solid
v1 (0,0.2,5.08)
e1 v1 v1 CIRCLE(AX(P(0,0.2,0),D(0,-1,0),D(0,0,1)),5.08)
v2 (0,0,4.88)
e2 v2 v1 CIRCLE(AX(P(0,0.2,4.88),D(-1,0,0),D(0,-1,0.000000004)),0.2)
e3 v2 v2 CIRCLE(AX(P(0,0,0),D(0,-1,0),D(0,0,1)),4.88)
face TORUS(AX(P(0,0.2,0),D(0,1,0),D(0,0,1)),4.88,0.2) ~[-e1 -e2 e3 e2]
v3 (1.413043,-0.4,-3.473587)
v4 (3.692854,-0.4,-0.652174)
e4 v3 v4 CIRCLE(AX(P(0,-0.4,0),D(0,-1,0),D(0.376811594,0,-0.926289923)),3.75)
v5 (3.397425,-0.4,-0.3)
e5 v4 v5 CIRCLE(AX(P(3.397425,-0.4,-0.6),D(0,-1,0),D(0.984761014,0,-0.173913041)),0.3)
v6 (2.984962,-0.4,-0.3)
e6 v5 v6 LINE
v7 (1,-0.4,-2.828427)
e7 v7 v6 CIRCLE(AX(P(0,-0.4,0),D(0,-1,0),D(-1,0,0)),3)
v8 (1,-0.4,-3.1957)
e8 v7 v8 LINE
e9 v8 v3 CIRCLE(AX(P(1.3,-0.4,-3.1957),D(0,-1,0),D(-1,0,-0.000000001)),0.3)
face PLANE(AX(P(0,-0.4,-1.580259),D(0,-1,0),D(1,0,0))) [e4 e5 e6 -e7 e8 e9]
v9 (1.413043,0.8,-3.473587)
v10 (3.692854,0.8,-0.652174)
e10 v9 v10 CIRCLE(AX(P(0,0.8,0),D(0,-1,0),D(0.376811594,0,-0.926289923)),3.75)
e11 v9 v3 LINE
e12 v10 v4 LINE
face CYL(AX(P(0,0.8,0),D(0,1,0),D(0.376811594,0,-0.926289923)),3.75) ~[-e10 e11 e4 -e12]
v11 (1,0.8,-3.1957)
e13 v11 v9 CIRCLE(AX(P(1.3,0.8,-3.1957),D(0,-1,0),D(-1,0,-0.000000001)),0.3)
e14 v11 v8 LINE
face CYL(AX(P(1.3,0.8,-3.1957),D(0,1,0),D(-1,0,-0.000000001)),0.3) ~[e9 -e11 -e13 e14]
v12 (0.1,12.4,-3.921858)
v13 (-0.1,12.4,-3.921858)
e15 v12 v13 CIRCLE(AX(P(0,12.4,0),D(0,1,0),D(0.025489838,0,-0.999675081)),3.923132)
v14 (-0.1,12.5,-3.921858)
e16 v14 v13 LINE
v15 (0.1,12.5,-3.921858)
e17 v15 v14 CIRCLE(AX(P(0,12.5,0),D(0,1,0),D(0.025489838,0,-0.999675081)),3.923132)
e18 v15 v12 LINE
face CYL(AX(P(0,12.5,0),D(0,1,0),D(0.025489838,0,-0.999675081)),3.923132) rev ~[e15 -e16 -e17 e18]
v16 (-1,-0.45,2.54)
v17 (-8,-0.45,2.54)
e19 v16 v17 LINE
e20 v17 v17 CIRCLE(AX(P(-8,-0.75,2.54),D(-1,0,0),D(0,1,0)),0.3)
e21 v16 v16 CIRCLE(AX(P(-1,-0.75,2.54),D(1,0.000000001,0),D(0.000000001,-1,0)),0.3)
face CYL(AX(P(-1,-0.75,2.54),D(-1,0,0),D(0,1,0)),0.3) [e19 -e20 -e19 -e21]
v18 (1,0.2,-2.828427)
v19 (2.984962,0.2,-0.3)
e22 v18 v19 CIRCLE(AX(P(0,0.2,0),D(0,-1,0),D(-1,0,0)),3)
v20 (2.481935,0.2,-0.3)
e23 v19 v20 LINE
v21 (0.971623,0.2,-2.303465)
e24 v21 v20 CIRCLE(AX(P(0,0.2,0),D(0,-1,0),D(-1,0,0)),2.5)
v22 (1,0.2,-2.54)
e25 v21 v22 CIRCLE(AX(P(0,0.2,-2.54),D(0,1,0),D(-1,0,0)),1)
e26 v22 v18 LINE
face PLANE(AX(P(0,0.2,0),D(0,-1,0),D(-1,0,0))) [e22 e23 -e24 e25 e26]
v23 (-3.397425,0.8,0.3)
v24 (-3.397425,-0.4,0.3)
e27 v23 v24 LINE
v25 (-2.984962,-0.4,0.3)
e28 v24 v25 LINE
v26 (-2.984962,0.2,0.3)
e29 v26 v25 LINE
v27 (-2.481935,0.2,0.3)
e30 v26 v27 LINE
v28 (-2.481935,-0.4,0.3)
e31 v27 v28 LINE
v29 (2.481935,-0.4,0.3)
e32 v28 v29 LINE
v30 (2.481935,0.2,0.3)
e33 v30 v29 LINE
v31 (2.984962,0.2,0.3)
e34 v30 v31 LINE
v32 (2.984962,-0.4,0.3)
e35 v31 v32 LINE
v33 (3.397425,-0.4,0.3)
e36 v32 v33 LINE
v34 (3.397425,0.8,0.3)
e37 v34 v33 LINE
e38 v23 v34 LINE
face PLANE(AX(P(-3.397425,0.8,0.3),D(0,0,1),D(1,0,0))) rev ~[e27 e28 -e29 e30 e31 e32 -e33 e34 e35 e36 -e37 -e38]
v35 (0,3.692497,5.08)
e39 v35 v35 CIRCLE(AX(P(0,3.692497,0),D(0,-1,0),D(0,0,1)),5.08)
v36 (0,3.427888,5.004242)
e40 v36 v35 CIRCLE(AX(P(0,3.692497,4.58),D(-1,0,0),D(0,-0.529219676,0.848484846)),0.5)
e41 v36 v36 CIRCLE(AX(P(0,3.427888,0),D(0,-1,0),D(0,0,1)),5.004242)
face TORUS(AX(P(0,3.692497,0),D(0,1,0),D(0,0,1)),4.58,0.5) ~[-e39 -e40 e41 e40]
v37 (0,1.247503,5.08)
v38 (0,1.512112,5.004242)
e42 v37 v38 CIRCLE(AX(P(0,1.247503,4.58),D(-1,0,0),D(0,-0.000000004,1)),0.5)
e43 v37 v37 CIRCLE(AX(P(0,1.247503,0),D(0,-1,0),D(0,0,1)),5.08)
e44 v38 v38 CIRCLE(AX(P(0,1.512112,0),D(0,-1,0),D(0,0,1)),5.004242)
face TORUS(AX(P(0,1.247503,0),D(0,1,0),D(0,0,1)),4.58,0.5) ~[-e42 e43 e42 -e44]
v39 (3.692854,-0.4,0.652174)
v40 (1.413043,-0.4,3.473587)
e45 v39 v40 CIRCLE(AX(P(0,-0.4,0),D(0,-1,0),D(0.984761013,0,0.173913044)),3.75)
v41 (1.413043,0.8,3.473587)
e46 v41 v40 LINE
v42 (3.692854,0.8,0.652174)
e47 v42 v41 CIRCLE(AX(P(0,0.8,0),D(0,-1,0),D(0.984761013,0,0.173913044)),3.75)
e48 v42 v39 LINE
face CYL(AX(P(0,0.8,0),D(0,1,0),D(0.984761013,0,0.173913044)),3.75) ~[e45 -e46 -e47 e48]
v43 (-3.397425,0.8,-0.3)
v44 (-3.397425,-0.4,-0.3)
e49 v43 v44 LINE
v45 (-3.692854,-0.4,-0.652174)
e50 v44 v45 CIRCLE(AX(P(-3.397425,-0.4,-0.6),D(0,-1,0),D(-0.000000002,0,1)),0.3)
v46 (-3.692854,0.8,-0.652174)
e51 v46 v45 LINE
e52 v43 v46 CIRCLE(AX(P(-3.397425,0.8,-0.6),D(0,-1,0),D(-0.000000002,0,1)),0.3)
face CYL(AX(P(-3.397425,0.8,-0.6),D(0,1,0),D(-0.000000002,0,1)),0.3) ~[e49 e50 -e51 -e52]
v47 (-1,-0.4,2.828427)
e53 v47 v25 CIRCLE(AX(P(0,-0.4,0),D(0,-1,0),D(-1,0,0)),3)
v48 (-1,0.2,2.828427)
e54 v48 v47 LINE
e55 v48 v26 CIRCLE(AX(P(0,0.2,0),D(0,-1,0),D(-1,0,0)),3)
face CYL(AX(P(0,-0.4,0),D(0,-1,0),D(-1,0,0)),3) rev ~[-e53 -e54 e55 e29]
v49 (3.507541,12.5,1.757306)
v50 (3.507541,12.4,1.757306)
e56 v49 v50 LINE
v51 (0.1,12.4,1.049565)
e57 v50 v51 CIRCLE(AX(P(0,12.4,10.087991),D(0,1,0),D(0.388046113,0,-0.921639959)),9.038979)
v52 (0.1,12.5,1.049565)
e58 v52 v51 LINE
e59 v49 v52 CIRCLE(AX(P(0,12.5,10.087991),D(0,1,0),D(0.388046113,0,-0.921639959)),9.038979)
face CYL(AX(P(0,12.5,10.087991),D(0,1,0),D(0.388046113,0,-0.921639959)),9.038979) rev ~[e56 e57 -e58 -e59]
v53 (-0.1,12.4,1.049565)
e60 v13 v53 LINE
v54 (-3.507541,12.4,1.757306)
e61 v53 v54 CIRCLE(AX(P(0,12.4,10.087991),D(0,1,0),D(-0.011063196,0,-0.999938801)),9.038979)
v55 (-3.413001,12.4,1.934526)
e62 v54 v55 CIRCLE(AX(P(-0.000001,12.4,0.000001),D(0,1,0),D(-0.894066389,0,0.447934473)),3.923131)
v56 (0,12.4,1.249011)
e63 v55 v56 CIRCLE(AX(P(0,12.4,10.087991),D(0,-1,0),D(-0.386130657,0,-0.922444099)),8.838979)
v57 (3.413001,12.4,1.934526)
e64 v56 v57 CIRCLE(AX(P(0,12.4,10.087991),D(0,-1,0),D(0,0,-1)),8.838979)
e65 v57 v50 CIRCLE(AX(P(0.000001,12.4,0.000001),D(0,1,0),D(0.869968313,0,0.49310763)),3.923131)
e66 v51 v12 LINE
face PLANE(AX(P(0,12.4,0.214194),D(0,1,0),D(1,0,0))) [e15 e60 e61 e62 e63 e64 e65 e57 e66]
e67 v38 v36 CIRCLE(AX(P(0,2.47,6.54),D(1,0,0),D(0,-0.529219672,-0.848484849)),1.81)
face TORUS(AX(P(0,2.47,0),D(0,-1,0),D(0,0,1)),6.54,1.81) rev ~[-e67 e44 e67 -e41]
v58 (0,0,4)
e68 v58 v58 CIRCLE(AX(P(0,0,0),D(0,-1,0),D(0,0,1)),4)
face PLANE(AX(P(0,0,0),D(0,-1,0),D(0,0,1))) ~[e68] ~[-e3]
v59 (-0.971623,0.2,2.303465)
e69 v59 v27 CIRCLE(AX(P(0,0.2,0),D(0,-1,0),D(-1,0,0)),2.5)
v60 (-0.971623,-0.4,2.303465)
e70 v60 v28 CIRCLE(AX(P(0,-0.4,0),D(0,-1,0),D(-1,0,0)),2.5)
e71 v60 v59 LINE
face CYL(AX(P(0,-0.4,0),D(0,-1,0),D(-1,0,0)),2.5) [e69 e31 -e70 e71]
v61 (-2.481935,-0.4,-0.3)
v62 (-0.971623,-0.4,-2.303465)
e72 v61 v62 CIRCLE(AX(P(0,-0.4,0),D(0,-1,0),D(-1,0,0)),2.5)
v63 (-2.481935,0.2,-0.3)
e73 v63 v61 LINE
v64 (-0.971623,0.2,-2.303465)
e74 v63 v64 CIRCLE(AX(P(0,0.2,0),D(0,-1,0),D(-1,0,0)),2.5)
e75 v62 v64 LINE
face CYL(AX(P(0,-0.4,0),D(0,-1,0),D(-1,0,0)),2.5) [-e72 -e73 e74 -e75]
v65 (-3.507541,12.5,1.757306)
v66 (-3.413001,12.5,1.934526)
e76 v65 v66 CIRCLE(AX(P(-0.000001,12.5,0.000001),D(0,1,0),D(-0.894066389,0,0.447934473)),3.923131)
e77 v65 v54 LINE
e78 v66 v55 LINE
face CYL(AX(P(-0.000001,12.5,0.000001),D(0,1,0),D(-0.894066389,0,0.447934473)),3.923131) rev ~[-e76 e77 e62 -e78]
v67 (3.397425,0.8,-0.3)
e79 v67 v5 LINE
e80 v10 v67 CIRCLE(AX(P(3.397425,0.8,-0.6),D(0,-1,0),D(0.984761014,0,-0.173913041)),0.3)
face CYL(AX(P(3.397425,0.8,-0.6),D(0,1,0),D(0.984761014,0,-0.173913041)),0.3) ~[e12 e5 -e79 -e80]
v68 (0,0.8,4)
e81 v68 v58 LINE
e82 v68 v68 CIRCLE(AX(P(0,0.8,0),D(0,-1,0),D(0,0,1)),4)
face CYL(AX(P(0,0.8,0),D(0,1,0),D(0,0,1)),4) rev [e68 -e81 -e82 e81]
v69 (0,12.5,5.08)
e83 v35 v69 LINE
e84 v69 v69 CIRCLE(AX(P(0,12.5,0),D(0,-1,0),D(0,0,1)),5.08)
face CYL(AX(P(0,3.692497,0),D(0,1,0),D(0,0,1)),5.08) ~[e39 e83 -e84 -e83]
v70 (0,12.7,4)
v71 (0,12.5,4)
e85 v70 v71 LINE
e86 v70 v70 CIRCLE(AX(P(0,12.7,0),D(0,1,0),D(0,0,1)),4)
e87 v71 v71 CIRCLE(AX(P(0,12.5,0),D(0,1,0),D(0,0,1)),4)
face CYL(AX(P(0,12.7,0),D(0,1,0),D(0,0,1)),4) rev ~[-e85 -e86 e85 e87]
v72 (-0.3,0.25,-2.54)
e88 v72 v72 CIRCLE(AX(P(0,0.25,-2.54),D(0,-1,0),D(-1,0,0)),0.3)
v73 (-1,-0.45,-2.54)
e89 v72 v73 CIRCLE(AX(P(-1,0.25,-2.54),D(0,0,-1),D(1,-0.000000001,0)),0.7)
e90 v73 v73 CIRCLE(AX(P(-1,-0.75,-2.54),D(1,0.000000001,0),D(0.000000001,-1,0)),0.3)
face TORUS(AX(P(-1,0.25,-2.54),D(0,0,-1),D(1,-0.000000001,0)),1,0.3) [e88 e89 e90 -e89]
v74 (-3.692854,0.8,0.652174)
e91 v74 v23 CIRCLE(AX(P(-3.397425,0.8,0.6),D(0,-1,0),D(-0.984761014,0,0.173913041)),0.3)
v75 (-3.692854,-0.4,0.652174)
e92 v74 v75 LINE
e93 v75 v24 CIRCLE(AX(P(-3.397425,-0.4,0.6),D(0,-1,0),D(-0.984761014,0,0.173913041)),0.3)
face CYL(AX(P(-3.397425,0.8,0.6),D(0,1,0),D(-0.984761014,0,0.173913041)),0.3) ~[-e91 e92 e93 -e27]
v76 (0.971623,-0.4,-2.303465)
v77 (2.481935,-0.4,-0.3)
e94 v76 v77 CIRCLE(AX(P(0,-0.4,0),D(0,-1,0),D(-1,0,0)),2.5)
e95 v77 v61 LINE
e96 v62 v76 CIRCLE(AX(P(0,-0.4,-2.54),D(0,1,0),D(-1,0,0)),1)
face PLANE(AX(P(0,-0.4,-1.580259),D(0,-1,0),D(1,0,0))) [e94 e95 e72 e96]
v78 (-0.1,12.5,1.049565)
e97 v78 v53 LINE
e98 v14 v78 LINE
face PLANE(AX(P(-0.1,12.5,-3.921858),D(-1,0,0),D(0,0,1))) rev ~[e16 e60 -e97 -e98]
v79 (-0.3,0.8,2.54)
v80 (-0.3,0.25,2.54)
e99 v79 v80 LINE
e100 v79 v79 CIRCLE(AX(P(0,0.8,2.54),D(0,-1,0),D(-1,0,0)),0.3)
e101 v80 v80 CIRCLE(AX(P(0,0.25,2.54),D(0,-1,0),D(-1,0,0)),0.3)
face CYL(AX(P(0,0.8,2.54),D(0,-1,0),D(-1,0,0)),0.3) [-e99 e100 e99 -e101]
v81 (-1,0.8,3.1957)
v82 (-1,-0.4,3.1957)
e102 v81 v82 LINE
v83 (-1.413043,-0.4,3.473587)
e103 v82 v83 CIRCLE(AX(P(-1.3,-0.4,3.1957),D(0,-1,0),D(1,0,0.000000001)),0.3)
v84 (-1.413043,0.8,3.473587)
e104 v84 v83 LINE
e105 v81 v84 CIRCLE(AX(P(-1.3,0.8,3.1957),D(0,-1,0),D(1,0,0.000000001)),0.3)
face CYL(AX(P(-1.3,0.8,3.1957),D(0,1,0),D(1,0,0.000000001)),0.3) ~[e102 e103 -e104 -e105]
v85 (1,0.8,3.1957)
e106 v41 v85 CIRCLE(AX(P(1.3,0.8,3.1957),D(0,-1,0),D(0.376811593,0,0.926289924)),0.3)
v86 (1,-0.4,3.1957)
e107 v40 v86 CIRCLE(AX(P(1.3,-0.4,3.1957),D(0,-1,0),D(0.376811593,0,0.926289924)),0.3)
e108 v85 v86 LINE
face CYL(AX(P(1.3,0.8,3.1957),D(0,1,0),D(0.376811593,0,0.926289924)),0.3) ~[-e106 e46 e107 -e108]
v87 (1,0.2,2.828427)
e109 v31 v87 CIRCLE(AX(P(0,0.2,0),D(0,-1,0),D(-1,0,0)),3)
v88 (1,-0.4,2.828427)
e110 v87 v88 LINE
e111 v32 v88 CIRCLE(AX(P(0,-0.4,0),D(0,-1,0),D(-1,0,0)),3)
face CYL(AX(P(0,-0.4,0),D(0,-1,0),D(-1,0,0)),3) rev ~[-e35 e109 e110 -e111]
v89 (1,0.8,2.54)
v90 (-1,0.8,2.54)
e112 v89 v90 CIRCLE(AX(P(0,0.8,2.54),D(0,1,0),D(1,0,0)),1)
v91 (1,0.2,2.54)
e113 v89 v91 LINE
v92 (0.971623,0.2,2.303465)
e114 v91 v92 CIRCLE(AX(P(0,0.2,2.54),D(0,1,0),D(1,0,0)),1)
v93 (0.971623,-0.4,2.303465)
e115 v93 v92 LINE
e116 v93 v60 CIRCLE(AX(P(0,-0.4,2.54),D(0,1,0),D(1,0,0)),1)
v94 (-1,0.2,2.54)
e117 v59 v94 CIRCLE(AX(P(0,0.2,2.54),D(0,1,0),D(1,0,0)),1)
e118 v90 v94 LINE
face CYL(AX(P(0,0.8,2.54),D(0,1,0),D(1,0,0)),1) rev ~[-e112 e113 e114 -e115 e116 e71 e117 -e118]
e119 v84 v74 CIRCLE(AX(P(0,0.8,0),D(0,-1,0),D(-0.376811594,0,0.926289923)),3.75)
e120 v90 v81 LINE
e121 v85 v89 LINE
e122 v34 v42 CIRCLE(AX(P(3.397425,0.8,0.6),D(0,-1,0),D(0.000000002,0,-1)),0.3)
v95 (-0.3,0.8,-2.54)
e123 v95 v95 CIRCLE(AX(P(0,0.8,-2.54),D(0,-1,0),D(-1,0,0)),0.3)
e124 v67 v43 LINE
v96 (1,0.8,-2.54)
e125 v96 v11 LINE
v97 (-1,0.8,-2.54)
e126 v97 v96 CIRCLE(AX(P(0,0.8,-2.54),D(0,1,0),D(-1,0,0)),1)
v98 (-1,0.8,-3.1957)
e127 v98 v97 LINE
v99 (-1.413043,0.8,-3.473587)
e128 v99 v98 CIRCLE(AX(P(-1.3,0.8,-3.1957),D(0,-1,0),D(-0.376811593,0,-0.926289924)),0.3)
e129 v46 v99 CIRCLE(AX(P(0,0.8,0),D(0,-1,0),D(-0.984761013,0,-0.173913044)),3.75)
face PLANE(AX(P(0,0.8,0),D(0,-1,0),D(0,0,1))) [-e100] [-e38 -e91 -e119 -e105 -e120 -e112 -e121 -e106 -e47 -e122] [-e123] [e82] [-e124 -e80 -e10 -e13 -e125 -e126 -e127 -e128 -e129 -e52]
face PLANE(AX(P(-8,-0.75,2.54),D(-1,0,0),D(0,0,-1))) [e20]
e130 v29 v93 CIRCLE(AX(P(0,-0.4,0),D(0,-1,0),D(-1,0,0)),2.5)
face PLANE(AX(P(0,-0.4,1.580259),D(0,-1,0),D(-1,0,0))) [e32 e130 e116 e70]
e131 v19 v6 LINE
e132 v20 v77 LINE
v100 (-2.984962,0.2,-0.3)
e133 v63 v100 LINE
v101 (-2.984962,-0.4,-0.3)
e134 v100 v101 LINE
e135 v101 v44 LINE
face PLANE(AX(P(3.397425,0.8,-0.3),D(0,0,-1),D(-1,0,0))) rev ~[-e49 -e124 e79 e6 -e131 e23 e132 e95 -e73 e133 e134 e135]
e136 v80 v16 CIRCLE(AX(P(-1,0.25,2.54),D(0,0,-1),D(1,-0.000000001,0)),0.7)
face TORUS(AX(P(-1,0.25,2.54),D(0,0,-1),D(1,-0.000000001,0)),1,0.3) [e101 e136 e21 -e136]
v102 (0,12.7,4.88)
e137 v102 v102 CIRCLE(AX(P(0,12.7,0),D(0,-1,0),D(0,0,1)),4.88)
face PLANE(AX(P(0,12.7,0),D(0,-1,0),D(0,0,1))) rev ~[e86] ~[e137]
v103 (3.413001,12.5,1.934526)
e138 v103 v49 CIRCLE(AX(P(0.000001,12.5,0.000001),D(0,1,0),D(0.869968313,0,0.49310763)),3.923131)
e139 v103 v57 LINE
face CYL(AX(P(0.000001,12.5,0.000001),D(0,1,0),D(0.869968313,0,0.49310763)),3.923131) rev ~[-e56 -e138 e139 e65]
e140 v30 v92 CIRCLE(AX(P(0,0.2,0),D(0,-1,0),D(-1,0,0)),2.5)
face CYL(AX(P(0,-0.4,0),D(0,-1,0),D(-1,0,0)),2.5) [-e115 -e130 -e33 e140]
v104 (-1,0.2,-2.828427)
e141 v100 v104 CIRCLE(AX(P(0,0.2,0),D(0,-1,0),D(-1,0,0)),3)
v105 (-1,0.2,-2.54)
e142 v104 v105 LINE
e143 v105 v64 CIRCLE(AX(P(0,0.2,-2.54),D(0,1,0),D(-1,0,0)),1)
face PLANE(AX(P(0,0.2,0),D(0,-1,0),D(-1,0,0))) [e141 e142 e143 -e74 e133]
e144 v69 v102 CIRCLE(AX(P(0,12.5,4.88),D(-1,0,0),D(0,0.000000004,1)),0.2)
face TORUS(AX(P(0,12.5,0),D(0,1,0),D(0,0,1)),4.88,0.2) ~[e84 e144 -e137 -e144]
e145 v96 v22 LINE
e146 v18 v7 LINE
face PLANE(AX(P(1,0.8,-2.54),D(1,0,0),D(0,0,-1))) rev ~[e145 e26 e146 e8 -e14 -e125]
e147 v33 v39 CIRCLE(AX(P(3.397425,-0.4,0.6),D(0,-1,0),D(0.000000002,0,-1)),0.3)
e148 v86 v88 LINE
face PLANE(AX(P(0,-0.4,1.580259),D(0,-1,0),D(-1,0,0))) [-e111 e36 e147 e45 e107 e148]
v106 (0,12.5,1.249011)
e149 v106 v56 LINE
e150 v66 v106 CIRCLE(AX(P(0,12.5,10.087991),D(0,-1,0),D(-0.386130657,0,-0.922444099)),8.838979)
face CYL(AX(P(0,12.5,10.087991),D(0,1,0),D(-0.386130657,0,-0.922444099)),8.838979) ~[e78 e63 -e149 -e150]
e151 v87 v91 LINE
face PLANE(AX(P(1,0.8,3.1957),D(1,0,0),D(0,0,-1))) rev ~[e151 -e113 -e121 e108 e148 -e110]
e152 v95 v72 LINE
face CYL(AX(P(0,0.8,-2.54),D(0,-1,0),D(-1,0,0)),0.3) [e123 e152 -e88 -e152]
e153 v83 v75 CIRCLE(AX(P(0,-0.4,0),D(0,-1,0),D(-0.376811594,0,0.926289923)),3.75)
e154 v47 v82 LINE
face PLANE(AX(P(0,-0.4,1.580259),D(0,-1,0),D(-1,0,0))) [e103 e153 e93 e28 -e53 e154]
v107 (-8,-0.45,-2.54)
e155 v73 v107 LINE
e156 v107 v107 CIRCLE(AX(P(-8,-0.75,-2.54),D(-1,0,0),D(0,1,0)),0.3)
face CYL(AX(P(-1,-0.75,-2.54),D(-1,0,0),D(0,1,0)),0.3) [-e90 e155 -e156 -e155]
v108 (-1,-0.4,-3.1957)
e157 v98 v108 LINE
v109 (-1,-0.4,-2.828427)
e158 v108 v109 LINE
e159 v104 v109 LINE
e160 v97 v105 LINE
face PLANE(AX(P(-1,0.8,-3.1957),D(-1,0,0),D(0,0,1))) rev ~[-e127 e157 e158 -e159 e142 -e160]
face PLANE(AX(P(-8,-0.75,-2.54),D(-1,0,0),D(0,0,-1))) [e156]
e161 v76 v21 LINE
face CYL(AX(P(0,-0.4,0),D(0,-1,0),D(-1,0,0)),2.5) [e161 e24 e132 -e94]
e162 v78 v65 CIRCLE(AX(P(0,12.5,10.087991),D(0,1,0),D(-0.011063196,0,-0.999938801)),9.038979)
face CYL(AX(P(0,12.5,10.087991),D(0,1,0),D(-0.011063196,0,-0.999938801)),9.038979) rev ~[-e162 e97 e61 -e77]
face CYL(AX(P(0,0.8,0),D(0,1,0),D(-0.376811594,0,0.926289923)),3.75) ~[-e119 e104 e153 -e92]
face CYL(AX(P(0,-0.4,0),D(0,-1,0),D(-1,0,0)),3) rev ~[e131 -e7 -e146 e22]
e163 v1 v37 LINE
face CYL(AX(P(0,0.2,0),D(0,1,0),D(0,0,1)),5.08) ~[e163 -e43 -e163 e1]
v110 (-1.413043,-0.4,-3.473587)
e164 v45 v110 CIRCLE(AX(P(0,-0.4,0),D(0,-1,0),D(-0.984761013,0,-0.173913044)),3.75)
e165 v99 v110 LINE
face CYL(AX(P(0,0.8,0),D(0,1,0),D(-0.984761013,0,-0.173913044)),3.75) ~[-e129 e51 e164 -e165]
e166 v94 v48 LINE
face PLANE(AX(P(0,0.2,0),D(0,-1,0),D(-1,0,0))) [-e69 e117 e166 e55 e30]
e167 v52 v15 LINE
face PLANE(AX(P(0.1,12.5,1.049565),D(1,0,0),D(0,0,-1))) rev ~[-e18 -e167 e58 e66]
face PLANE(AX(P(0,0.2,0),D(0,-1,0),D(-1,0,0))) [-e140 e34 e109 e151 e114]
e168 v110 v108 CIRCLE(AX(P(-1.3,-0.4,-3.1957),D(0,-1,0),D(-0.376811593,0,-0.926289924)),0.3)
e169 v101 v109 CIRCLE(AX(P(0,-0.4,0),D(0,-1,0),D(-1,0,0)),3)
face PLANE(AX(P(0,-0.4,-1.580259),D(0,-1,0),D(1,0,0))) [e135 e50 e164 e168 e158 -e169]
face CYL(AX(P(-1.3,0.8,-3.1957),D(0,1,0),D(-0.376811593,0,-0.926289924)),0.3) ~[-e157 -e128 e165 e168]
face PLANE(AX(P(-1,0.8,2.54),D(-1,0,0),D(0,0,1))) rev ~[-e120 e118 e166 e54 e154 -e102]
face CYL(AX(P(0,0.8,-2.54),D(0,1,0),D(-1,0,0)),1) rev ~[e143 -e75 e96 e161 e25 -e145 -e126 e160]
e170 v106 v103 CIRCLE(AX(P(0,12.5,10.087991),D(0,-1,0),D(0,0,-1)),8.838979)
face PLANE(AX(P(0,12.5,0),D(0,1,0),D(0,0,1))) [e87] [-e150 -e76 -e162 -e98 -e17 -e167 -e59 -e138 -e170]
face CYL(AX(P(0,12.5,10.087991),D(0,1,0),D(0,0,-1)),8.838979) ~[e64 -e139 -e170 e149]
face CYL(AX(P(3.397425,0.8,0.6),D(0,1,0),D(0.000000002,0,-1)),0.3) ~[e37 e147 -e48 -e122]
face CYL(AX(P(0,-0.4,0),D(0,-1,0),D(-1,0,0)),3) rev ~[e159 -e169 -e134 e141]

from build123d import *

# Parameters (mm, degrees)
SZKIC2_R                    = 4
WYTNIJ_WYCI_GNI_CIE1_DEPTH  = 0.2
WYTNIJ_WYCI_GNI_CIE2_START  = -0.8
SZKIC3_R                    = 4
WYTNIJ_WYCI_GNI_CIE2_DEPTH  = 0.8
WYTNIJ_WYCI_GNI_CIE3_DEPTH  = 0.1
DODANIE_WYCI_GNI_CIE3_DEPTH = 1.2
SZYK_KO_OWY1_COUNT          = 2
SZKIC13_R                   = 3
SZKIC13_R_2                 = 2.5
WYTNIJ_WYCI_GNI_CIE4_DEPTH  = 0.6
SZKIC11_R                   = 0.3


with BuildPart() as part:
    # Szkic1 → Obrót1 (revolve)
    with BuildSketch(Plane(origin=(0, 0, 0), x_dir=(0, 0, -1), z_dir=(1, 0, 0)), mode=Mode.PRIVATE) as obr_t1_sk:
        with BuildLine():
            Line((0, 0), (4.88, 0))
            ThreePointArc((4.88, 0), (5.021421356, 0.058578644), (5.08, 0.2))
            Line((5.08, 0.2), (5.08, 1.247502556))
            ThreePointArc((5.08, 1.247502556), (5.060687639, 1.385123027), (5.004242424, 1.512112393))
            ThreePointArc((5.004242424, 1.512112393), (4.73, 2.47), (5.004242424, 3.427887607))
            ThreePointArc((5.004242424, 3.427887607), (5.060687639, 3.554876973), (5.08, 3.692497444))
            Line((5.08, 3.692497444), (5.08, 12.5))
            ThreePointArc((5.08, 12.5), (5.021421356, 12.641421356), (4.88, 12.7))
            Line((4.88, 12.7), (0, 12.7))
            Line((0, 12.7), (0, 0))
        make_face()
    revolve(obr_t1_sk.sketch.rotate(Axis((0, 12.7, 0), (0, -1, 0)), 180), axis=Axis((0, 12.7, 0), (0, -1, 0)))

    # Szkic2 → Wytnij-wyciągnięcie1 (cut)
    with BuildSketch(Plane(origin=(0, 12.7, 0), x_dir=(1, 0, 0), z_dir=(0, 1, 0))):
        with Locations(Location((0, 0, 0), (0, 0, 270))):
            Circle(SZKIC2_R)
    extrude(amount=-WYTNIJ_WYCI_GNI_CIE1_DEPTH, mode=Mode.SUBTRACT)

    # Szkic3 → Wytnij-wyciągnięcie2 (cut)
    with BuildSketch(Plane.XZ.offset(WYTNIJ_WYCI_GNI_CIE2_START)):
        with Locations(Location((0, 0, 0), (0, 0, 90))):
            Circle(SZKIC3_R)
    extrude(amount=WYTNIJ_WYCI_GNI_CIE2_DEPTH, mode=Mode.SUBTRACT)

    # Szkic4 → Wytnij-wyciągnięcie3 (cut)
    with BuildSketch(Plane(origin=(0, 12.5, 0), x_dir=(1, 0, 0), z_dir=(0, 1, 0))):
        with BuildLine():
            Line((-0.1, 3.921857664), (-0.1, -1.049564655))
            ThreePointArc((-0.1, -1.049564655), (-1.838154548, -1.237887128), (-3.507540767, -1.757306264))
            ThreePointArc((-3.507540767, -1.757306264), (-3.461405184, -1.846521512), (-3.413000858, -1.934526475))
            ThreePointArc((-3.413000858, -1.934526475), (-1.740582206, -1.422084672), (0, -1.249011478))
            ThreePointArc((0, -1.249011478), (1.740582206, -1.422084672), (3.413000858, -1.934526475))
            ThreePointArc((3.413000858, -1.934526475), (3.461405184, -1.846521512), (3.507540767, -1.757306264))
            ThreePointArc((3.507540767, -1.757306264), (1.838154548, -1.237887128), (0.1, -1.049564655))
            Line((0.1, -1.049564655), (0.1, 3.921857664))
            ThreePointArc((0.1, 3.921857664), (0, 3.923132363), (-0.1, 3.921857664))
        make_face()
    extrude(amount=-WYTNIJ_WYCI_GNI_CIE3_DEPTH, mode=Mode.SUBTRACT)

    # Szkic12 → Dodanie-wyciągnięcie3 (add)
    with BuildSketch(Plane(origin=(0, 0.8, 0), x_dir=(-1, 0, 0), z_dir=(0, -1, 0))):
        with BuildLine():
            Line((1, -2.54), (1, -3.195700236))
            ThreePointArc((1, -3.195700236), (1.132538129, -3.444610906), (1.413043478, -3.473587213))
            ThreePointArc((1.413043478, -3.473587213), (2.916785903, -2.356875048), (3.6928538, -0.652173913))
            ThreePointArc((3.6928538, -0.652173913), (3.627264759, -0.407194624), (3.397425496, -0.3))
            Line((3.397425496, -0.3), (-3.397425496, -0.3))
            ThreePointArc((-3.397425496, -0.3), (-3.627264759, -0.407194624), (-3.6928538, -0.652173913))
            ThreePointArc((-3.6928538, -0.652173913), (-2.916785903, -2.356875048), (-1.413043478, -3.473587213))
            ThreePointArc((-1.413043478, -3.473587213), (-1.132538129, -3.444610906), (-1, -3.195700236))
            Line((-1, -3.195700236), (-1, -2.54))
            ThreePointArc((-1, -2.54), (0, -1.54), (1, -2.54))
        make_face()
    dodanie_wyci_gni_cie3 = extrude(amount=DODANIE_WYCI_GNI_CIE3_DEPTH)

    # Szyk kołowy1: Dodanie-wyciągnięcie3 ×2 about axis
    szyk_ko_owy1_axis = Axis((0, 0, 0), (0, 1, 0))
    for i in range(1, SZYK_KO_OWY1_COUNT):
        add(dodanie_wyci_gni_cie3.rotate(szyk_ko_owy1_axis, i * 360 / SZYK_KO_OWY1_COUNT))

    # Szkic13 → Wytnij-wyciągnięcie4 (cut)
    with BuildSketch(Plane(origin=(0, -0.4, 0), x_dir=(-1, 0, 0), z_dir=(0, -1, 0))):
        Circle(SZKIC13_R)
        Circle(SZKIC13_R_2, mode=Mode.SUBTRACT)
    extrude(amount=-WYTNIJ_WYCI_GNI_CIE4_DEPTH, mode=Mode.SUBTRACT)

    # По траектории2: sweep along a path in Эскиз1
    with BuildLine(Plane.XY) as sweep_2_path:
        Line((0, 0.8), (0, 0.25))
        ThreePointArc((0, 0.25), (-0.292893219, -0.457106781), (-1, -0.75))
        Line((-1, -0.75), (-8, -0.75))
    # Szkic11 → По траектории2 (sweep)
    with BuildSketch(Plane(origin=(0, 0.8, 0), x_dir=(-1, 0, 0), z_dir=(0, -1, 0))):
        with Locations((0, -2.54)):
            Circle(SZKIC11_R)
        with Locations((0, 2.54)):
            Circle(SZKIC11_R)
    sweep(path=sweep_2_path.line)


solid = part.part
